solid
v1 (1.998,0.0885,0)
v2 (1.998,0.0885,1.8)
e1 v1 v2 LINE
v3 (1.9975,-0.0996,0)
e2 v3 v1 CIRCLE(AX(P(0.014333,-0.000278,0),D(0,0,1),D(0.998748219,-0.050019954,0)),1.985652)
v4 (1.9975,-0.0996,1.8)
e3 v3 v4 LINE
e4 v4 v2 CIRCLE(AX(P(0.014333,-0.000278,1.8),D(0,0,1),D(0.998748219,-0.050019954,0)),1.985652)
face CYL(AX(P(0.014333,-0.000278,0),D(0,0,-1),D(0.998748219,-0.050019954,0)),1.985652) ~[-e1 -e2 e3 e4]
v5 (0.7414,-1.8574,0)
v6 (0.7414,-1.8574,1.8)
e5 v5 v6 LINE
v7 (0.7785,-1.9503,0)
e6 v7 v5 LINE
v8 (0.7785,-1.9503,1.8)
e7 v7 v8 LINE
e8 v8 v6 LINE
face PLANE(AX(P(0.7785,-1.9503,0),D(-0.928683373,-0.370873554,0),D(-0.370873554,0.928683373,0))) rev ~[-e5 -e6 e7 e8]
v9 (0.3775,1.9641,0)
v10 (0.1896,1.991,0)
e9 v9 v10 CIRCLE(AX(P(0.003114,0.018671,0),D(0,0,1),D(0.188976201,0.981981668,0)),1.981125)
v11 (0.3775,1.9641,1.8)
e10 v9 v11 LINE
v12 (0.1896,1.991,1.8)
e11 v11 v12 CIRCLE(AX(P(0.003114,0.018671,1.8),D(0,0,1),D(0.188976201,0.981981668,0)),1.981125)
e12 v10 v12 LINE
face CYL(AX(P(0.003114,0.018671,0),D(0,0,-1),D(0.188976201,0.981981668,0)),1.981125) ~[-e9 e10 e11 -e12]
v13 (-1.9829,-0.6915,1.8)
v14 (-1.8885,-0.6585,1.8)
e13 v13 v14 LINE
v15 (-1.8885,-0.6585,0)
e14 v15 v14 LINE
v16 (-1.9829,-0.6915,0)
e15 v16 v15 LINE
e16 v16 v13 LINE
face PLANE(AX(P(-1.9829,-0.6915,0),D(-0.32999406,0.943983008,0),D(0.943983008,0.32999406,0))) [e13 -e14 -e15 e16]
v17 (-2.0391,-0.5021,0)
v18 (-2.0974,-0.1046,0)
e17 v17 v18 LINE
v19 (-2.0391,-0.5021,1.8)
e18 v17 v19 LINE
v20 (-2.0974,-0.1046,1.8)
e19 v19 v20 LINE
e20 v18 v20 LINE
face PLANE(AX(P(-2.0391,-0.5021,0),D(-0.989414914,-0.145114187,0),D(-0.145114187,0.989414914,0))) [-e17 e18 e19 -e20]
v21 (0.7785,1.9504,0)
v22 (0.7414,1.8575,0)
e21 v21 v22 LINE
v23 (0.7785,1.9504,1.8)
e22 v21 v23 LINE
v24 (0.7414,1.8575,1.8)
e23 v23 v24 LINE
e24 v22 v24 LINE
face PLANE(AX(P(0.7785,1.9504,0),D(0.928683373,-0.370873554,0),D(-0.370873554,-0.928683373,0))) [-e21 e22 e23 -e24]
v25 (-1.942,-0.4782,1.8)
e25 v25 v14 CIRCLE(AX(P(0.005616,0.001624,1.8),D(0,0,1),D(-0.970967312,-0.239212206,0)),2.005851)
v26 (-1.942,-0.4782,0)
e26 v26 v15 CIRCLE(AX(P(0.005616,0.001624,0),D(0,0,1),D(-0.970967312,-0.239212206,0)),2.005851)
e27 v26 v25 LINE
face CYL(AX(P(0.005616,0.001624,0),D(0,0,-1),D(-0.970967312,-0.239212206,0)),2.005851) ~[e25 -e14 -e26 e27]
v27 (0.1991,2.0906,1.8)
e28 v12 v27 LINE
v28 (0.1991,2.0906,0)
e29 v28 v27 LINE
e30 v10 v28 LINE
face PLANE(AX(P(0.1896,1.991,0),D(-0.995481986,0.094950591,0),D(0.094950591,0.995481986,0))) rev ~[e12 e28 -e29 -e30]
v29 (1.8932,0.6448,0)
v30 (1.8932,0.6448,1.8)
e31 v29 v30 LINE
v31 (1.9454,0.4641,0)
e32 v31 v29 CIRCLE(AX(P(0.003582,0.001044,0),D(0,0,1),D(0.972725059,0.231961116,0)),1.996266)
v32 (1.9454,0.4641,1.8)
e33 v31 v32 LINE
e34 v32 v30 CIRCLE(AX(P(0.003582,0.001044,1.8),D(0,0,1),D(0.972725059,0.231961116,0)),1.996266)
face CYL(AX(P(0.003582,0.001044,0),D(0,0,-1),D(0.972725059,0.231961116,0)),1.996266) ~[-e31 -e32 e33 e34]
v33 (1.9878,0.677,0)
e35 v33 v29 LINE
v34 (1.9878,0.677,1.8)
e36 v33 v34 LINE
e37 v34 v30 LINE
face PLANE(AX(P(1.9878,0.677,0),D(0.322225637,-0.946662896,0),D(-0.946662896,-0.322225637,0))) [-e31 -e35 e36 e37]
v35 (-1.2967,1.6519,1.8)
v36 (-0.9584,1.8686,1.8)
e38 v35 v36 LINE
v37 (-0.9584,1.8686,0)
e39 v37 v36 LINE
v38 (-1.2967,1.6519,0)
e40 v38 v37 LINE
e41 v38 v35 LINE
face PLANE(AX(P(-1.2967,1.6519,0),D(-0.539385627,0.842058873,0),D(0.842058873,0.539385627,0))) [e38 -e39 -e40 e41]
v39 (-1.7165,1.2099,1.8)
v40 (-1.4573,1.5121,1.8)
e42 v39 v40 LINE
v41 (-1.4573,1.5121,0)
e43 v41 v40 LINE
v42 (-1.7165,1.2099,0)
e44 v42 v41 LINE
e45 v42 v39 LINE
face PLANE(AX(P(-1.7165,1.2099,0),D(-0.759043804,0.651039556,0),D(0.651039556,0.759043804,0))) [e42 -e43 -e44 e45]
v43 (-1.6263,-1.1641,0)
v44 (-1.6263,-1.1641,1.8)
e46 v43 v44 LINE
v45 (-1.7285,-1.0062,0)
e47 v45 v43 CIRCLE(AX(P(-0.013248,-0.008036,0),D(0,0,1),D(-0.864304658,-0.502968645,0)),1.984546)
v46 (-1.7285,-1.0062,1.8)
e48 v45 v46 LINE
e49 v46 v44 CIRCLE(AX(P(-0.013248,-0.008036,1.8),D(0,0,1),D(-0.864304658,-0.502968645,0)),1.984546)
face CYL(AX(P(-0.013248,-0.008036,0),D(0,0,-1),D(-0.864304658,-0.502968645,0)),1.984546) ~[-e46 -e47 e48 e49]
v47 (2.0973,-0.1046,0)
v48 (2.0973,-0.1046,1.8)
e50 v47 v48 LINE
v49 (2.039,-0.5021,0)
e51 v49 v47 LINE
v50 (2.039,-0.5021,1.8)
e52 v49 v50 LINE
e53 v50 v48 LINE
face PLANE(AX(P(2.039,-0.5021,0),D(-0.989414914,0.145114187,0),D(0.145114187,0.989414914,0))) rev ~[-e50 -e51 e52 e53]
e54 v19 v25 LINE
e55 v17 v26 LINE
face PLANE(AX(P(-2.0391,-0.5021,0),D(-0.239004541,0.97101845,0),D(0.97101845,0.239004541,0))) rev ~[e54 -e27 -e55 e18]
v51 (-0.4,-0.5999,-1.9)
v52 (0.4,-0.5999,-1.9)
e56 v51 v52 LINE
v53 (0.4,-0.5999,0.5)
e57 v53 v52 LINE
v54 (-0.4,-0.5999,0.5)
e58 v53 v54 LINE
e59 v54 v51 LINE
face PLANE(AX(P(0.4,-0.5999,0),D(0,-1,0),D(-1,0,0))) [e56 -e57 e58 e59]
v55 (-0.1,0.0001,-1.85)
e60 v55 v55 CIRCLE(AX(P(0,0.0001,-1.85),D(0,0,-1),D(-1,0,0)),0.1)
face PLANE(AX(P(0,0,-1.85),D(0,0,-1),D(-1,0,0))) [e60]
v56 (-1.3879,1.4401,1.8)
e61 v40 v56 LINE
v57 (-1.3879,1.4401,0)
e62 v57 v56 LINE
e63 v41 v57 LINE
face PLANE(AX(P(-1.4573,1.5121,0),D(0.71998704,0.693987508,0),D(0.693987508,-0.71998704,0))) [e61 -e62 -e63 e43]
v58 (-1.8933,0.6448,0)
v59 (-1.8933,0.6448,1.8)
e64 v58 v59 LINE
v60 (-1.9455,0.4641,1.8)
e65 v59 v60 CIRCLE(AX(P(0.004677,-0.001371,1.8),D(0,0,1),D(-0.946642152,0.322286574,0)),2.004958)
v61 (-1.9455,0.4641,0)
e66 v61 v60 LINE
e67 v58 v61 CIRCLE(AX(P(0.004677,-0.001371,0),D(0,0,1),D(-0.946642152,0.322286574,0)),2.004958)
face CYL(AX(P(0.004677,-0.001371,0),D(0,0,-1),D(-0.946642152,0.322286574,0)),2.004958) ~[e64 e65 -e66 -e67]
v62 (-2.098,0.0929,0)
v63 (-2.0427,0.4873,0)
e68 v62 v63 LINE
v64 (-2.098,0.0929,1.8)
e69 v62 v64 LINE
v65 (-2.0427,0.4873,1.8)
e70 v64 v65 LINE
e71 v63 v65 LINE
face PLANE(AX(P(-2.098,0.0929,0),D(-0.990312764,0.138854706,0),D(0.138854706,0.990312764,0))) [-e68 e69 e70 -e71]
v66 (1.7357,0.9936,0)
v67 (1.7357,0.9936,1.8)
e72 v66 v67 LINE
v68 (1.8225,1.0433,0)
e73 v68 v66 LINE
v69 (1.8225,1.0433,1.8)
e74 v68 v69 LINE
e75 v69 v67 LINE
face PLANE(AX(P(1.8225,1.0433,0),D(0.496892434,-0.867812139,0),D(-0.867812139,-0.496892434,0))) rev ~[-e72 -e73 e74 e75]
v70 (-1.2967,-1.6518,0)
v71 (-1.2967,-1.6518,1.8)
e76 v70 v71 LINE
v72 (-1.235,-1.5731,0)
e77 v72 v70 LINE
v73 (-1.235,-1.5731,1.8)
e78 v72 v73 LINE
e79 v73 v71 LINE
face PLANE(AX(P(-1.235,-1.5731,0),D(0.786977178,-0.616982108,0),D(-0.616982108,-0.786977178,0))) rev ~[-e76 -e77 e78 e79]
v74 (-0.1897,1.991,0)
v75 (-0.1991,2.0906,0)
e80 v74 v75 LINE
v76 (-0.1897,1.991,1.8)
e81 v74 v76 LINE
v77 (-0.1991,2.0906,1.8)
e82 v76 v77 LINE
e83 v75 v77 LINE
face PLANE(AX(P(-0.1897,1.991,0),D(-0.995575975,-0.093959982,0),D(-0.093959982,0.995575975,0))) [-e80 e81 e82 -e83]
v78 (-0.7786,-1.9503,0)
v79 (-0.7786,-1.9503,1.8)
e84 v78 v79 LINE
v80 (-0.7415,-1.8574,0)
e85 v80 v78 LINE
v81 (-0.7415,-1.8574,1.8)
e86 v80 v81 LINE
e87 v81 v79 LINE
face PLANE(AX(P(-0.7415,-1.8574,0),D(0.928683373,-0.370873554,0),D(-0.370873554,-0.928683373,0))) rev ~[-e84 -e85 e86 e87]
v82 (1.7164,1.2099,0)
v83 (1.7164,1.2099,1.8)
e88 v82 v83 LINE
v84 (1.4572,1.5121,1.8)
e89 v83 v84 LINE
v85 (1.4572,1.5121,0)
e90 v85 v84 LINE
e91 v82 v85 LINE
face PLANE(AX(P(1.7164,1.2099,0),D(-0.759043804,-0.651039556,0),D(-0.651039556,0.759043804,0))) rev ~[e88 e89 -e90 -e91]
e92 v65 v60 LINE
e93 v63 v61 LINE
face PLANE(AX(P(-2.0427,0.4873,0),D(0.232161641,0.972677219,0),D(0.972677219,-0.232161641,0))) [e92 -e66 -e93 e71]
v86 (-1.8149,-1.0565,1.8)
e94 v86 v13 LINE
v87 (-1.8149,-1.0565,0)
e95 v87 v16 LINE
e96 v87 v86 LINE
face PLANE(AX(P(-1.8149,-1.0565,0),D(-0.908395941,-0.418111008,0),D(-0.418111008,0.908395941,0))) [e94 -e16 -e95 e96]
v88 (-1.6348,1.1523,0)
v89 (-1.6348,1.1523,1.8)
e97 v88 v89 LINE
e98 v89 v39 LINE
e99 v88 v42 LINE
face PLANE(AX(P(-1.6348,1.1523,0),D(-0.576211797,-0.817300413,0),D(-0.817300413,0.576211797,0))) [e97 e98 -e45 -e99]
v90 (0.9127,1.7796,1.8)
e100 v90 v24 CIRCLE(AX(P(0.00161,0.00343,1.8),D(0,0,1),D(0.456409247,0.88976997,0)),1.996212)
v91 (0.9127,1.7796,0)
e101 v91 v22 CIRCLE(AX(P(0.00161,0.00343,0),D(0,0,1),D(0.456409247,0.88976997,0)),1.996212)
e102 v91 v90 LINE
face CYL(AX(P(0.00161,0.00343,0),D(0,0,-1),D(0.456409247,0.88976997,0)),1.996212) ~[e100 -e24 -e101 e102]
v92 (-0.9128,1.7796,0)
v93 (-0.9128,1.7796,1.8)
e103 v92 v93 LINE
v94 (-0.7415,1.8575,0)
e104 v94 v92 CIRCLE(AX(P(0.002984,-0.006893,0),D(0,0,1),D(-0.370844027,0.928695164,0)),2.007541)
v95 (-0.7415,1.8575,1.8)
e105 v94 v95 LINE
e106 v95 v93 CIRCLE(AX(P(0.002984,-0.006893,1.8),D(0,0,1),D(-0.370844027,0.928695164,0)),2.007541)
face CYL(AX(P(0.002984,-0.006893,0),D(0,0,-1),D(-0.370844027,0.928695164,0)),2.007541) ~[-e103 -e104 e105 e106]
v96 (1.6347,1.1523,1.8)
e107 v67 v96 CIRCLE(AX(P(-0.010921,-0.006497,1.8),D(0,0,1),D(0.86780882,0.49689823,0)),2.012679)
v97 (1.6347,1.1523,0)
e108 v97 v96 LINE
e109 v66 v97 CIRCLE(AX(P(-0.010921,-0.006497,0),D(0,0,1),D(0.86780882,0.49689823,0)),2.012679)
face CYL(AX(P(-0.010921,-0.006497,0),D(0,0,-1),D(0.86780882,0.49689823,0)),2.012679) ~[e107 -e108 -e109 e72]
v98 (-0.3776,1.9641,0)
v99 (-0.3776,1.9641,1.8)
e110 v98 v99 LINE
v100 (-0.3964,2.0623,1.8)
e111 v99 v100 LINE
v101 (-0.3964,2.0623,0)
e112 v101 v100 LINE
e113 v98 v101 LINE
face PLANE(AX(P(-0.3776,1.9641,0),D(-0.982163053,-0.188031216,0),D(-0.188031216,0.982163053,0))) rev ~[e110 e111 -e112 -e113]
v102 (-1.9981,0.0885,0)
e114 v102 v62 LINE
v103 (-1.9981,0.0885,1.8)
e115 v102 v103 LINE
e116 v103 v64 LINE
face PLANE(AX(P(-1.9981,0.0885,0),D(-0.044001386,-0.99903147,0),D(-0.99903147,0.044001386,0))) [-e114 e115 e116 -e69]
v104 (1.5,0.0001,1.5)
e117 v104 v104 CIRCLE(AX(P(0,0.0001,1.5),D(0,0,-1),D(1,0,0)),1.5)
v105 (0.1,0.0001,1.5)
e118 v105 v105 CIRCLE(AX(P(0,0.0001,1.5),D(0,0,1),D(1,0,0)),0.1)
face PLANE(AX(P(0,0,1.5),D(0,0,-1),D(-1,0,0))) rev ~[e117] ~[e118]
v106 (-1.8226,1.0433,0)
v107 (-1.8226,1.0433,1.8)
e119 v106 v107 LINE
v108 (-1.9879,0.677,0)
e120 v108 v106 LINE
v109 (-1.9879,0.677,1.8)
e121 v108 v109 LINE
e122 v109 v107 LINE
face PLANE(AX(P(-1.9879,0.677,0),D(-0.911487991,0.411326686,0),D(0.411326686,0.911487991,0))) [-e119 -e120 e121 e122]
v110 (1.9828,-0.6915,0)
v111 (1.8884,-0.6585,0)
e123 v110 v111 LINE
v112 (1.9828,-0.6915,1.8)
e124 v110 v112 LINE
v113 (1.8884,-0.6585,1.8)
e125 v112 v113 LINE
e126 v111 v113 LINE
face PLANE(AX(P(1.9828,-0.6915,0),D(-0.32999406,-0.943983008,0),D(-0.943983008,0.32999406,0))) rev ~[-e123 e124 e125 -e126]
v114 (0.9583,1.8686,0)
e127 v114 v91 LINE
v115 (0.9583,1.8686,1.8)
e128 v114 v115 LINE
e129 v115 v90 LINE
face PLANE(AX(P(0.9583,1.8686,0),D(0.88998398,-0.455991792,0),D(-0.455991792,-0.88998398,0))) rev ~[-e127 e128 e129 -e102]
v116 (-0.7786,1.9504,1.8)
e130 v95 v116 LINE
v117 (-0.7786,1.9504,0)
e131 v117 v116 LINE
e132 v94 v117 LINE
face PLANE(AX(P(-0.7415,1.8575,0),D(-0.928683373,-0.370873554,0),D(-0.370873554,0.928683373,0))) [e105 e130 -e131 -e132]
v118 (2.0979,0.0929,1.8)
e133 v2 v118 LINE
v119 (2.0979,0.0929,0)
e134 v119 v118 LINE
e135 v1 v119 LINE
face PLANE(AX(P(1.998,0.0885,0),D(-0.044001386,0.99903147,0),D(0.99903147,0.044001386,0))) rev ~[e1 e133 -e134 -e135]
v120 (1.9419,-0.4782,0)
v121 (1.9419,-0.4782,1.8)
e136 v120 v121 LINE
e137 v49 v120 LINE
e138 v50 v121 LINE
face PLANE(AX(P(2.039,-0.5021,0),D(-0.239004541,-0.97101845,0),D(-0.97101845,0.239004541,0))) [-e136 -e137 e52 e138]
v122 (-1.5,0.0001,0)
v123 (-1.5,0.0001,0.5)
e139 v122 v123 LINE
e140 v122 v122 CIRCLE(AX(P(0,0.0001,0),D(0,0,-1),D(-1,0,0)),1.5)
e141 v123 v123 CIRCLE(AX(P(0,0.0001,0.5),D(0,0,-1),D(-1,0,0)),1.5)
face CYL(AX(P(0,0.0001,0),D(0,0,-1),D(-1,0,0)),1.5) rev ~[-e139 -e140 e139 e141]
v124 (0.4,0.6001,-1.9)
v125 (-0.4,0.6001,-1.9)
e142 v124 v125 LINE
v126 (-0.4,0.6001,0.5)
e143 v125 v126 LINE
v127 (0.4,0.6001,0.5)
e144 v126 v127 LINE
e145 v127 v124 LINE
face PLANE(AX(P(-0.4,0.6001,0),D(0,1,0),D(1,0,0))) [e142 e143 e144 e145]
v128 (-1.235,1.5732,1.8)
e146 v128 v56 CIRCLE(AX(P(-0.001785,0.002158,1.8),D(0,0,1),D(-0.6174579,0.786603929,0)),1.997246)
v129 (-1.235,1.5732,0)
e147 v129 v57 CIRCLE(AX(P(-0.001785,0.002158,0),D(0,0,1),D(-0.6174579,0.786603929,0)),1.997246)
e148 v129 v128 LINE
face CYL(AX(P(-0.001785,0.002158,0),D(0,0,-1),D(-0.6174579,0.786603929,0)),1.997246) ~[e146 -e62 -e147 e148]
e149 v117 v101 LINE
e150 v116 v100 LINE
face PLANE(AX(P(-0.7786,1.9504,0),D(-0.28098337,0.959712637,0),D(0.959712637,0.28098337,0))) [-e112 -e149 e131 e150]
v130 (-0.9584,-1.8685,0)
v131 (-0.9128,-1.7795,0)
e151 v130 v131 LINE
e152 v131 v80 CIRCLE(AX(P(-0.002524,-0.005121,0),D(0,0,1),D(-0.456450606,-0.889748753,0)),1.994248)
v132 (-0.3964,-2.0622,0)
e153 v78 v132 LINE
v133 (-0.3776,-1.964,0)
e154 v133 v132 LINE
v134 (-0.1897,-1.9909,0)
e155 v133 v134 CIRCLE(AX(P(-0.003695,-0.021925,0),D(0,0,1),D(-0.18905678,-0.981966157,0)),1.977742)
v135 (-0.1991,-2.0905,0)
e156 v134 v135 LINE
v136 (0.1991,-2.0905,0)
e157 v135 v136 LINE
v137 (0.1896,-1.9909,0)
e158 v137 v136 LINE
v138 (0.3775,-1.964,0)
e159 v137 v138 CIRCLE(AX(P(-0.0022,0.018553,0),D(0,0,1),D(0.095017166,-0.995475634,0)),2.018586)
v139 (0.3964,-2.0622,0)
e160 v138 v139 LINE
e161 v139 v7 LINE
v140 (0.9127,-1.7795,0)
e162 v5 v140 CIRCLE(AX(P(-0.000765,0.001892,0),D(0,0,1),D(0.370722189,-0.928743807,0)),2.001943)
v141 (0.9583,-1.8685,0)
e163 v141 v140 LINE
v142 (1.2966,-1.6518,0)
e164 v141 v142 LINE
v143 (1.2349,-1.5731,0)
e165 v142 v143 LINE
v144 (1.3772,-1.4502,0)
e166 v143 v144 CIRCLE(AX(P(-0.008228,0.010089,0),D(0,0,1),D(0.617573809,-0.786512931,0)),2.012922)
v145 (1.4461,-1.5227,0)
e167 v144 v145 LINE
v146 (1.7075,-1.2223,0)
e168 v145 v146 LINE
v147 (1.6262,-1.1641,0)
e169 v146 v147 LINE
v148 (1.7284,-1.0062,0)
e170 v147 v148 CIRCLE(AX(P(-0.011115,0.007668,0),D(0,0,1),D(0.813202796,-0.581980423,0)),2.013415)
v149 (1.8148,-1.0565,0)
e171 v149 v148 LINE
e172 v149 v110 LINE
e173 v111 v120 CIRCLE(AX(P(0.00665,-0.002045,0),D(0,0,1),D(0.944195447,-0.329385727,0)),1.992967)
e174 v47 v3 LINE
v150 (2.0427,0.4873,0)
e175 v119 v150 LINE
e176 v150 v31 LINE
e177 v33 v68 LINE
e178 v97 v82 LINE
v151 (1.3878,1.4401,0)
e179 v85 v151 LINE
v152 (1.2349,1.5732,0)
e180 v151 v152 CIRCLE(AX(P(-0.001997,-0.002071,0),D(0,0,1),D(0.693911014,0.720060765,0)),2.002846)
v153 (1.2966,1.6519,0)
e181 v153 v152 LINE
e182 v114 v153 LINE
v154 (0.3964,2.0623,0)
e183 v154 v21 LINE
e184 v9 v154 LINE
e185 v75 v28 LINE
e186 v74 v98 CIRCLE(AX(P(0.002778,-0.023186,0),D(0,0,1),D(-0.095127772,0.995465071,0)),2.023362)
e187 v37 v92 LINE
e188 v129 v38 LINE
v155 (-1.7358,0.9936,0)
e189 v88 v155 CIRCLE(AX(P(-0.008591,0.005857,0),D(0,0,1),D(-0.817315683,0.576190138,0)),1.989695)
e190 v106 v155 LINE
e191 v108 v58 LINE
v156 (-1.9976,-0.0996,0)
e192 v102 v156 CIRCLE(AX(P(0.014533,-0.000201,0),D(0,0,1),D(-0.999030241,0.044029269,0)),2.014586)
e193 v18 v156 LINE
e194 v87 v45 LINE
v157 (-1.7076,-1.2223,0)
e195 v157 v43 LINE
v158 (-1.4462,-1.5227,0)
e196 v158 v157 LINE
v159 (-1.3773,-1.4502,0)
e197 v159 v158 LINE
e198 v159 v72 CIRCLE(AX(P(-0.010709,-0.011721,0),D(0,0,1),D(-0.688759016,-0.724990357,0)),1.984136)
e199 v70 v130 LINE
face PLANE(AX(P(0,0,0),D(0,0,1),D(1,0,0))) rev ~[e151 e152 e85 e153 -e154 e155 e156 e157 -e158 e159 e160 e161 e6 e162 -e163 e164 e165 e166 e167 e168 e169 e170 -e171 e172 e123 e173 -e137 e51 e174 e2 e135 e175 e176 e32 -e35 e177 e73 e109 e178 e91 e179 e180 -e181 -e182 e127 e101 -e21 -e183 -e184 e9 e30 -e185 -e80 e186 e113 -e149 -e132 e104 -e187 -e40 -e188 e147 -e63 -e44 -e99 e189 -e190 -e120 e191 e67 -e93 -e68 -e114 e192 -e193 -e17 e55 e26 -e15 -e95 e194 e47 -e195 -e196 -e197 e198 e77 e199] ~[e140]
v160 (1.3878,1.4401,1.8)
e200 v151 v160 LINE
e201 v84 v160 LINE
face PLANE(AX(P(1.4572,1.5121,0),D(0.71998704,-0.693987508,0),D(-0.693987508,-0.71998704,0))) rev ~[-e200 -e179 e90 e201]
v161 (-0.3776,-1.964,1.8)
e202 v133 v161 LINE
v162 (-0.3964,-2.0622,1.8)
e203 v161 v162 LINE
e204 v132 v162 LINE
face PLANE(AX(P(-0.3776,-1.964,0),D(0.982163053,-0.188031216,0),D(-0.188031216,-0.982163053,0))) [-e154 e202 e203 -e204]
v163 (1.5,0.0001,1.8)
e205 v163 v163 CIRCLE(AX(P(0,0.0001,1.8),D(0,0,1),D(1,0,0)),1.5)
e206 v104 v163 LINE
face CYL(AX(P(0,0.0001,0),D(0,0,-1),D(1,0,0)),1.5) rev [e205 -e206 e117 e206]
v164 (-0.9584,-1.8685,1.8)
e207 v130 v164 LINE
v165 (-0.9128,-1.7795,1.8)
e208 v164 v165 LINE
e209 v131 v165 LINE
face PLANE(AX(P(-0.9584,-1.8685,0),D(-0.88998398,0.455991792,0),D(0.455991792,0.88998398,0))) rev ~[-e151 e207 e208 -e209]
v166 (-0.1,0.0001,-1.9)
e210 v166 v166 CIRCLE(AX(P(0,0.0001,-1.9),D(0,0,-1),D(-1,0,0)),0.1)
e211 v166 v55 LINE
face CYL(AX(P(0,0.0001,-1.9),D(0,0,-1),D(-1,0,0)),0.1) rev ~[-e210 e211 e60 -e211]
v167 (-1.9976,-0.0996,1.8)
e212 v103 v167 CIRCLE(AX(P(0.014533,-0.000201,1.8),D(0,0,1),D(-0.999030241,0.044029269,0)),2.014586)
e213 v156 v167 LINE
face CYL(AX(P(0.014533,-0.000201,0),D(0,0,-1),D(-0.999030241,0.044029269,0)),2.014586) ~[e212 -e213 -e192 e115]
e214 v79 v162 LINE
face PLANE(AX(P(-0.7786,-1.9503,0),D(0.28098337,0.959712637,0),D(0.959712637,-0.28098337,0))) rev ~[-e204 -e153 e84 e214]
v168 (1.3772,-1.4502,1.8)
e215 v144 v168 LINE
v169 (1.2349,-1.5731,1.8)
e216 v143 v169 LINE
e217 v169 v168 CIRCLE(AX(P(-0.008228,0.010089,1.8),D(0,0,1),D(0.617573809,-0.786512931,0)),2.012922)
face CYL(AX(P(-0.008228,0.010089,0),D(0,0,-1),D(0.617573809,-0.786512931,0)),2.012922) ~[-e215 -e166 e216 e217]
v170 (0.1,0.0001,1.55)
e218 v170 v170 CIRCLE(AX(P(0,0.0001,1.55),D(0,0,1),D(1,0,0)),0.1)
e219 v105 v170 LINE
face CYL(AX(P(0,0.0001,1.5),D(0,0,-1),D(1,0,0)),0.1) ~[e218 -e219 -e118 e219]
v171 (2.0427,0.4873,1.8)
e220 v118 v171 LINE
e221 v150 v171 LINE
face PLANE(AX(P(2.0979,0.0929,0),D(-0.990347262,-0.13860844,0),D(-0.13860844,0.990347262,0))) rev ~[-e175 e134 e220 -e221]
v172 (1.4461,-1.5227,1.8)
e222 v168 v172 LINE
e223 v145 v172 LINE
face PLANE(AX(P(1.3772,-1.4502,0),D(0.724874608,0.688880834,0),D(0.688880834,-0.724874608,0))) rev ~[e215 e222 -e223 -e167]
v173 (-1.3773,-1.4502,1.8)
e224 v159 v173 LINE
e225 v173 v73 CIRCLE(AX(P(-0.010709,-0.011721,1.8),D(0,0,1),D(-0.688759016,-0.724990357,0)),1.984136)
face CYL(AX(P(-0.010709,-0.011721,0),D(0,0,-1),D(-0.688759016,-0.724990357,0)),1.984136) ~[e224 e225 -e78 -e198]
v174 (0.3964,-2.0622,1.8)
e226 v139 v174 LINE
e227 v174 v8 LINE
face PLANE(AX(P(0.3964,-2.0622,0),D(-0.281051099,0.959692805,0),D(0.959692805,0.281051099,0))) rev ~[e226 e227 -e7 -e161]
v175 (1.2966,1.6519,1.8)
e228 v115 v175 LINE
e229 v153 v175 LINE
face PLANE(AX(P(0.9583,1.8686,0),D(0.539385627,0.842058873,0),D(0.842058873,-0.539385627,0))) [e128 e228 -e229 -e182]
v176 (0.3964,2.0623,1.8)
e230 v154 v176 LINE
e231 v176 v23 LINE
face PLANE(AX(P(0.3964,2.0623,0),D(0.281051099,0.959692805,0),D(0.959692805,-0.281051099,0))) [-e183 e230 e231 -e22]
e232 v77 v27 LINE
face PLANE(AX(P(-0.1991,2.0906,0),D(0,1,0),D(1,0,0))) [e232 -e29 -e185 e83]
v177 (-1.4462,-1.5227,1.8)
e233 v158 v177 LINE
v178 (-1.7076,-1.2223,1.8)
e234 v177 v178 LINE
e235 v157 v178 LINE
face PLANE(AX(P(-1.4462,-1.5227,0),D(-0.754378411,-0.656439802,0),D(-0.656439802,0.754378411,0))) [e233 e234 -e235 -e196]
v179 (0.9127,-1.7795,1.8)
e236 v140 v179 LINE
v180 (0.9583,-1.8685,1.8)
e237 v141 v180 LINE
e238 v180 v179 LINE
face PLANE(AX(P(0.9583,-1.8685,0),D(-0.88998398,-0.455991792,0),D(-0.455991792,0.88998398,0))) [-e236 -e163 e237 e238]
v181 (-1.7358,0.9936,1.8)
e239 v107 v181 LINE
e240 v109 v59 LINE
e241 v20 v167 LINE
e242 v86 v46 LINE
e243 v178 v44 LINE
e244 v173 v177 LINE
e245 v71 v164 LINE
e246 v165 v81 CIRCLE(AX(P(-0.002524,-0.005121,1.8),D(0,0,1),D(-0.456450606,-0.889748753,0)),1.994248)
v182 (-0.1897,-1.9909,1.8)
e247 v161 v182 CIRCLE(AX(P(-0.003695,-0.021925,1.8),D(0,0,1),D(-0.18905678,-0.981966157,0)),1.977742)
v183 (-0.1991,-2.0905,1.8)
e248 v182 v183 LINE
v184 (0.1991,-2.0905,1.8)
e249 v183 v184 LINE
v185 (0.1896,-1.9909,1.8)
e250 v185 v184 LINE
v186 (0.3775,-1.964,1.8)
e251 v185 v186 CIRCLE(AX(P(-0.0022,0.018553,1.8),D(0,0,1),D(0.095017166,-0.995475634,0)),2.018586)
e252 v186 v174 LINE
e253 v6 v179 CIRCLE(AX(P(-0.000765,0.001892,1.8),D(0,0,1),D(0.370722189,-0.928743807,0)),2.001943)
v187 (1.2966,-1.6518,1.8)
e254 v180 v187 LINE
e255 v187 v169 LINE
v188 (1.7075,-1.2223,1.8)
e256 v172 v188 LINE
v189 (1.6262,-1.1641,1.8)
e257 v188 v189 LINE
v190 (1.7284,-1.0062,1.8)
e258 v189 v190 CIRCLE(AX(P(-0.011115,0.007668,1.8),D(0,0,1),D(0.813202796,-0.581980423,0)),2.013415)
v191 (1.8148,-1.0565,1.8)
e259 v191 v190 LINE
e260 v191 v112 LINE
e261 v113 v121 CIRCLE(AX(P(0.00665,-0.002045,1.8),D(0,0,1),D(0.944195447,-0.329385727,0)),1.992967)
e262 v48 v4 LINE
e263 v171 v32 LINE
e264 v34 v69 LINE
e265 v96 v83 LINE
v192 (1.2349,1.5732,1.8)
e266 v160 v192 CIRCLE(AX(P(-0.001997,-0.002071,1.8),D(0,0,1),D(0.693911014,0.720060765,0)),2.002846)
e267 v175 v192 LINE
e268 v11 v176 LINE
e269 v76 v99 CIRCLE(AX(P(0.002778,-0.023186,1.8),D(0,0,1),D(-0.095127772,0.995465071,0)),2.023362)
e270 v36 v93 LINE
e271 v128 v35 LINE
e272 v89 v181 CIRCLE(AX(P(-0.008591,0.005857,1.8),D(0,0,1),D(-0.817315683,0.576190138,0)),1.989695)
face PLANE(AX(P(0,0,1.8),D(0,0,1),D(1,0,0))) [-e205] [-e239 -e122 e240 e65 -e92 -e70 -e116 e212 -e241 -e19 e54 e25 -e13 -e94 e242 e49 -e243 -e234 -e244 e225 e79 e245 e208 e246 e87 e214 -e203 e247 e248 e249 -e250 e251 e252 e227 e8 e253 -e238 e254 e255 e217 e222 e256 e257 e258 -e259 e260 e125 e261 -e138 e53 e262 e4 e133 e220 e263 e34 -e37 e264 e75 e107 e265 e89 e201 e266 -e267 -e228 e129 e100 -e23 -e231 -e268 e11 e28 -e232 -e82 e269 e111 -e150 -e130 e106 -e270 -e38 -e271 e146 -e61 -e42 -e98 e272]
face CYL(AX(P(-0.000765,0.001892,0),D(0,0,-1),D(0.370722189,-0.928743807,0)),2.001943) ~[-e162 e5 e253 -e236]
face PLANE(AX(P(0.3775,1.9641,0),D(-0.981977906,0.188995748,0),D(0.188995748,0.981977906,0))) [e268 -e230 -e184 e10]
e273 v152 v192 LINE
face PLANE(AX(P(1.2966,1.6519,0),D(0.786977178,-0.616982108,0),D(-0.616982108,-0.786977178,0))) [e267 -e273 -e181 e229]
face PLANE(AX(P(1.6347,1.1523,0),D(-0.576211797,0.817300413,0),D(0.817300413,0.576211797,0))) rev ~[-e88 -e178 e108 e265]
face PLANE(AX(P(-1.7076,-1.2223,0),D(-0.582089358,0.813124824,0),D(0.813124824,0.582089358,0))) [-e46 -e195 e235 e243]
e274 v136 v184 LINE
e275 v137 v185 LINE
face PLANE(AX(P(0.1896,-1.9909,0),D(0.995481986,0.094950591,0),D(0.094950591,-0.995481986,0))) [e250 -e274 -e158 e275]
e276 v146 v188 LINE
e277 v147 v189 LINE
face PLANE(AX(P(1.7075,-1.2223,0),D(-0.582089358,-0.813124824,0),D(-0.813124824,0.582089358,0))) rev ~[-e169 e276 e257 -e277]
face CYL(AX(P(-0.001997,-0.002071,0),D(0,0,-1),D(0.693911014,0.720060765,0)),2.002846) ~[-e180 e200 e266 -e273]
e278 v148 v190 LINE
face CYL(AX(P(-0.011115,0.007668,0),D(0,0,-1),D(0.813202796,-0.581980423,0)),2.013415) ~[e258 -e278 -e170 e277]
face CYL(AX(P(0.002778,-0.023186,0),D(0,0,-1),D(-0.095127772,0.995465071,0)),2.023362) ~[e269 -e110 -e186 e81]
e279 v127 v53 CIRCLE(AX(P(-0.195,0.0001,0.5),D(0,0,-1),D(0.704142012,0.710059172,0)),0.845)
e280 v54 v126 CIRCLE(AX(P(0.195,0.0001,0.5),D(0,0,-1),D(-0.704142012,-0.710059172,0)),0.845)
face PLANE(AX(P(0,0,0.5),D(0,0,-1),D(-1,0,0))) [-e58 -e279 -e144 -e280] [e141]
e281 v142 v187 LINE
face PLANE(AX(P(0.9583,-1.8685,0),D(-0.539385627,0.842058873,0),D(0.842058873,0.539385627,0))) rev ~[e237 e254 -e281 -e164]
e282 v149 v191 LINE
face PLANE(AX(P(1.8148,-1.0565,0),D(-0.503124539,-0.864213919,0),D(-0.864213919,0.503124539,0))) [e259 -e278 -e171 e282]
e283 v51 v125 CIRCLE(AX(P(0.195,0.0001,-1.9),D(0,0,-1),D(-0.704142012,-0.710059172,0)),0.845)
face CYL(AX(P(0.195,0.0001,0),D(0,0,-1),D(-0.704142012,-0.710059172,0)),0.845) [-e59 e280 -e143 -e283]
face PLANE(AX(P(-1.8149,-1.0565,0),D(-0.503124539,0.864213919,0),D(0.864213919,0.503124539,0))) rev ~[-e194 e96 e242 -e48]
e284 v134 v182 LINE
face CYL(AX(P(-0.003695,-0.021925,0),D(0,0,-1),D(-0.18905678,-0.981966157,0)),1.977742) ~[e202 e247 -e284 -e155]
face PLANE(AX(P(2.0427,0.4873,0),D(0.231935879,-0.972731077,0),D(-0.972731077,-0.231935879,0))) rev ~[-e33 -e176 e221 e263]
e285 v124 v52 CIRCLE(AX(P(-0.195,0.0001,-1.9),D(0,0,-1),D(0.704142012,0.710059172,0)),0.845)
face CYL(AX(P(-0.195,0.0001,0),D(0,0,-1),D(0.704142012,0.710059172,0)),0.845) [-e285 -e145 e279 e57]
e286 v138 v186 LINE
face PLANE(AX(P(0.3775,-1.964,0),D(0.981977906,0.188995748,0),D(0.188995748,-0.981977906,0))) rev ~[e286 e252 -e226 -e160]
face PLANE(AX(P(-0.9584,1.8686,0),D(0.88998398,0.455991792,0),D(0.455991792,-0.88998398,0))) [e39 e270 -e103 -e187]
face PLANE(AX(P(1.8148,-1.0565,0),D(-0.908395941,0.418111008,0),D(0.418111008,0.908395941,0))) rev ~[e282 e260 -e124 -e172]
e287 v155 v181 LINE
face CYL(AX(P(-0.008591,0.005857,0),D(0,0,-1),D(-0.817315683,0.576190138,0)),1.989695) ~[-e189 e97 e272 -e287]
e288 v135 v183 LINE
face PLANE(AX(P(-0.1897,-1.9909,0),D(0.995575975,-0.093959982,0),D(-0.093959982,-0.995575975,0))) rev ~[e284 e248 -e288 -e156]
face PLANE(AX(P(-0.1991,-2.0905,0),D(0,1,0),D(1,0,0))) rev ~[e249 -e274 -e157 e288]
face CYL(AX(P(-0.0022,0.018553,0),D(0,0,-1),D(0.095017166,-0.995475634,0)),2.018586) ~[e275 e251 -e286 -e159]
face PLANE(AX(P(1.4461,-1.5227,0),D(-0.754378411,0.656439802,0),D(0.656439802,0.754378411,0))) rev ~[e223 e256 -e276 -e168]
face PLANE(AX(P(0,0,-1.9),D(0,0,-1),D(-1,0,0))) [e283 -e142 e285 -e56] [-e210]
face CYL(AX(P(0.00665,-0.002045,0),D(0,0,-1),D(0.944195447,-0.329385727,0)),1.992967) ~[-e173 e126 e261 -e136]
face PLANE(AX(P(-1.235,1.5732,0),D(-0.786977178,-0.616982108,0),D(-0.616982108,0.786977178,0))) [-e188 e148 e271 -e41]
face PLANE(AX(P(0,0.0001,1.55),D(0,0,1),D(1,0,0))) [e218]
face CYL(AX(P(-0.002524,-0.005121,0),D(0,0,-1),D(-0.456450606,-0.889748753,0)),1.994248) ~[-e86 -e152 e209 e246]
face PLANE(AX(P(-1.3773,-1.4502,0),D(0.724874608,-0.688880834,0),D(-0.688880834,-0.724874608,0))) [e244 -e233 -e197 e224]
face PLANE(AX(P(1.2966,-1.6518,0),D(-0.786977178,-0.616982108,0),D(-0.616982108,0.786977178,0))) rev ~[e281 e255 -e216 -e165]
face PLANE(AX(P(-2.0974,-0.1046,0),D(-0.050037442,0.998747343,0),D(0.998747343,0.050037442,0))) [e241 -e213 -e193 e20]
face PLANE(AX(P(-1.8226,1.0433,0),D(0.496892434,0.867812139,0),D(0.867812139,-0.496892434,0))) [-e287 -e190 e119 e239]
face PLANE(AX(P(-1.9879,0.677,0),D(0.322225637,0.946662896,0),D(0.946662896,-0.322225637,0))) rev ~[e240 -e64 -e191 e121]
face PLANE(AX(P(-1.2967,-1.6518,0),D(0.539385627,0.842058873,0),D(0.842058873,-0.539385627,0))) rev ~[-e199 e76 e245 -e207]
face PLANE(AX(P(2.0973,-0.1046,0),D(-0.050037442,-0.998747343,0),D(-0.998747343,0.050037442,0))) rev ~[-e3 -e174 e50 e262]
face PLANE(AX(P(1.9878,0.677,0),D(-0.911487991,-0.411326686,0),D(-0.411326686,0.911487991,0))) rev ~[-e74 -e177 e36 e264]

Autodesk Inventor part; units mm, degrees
ref_plane "YZ Plane" through (0, 0, 0) normal (1, 0, 0) x (0, 1, 0)
ref_plane "XZ Plane" through (0, 0, 0) normal (0, 1, 0) x (-1, 0, 0)
ref_plane "XY Plane" through (0, 0, 0) normal (0, 0, 1) x (1, 0, 0)
sketch "Boceto1" plane through (0, 0, 0) normal (0, 0, 1) x (1, 0, 0)
  circle A0 centre (0, 0.0001) radius 1.5
  line L0 (-0.1991, -2.0905) -> (0.1991, -2.0905)
  line L1 (0.3964, -2.0622) -> (0.7785, -1.9503)
  line L2 (0.9583, -1.8685) -> (1.2966, -1.6518)
  line L3 (0.7785, -1.9503) -> (0.7414, -1.8574)
  line L4 (0.9583, -1.8685) -> (0.9127, -1.7795)
  arc A1 (1.2349, -1.5731) -> (1.3772, -1.4502) centre (0, 0.0001) ccw
  arc A2 (-1.3773, -1.4502) -> (-1.235, -1.5731) centre (0, 0.0001) ccw
  arc A3 (-0.9128, -1.7795) -> (-0.7415, -1.8574) centre (0, 0.0001) ccw
  arc A4 (-0.3776, -1.964) -> (-0.1897, -1.9909) centre (0, 0.0001) ccw
  arc A5 (0.1896, -1.9909) -> (0.3775, -1.964) centre (0, 0.0001) ccw
  arc A6 (0.7414, -1.8574) -> (0.9127, -1.7795) centre (0, 0.0001) ccw
  line L5 (-1.2967, -1.6518) -> (-0.9584, -1.8685)
  line L6 (-0.7786, -1.9503) -> (-0.3964, -2.0622)
  line L7 (0.3775, -1.964) -> (0.3964, -2.0622)
  line L8 (0.1896, -1.9909) -> (0.1991, -2.0905)
  line L9 (-0.1897, -1.9909) -> (-0.1991, -2.0905)
  line L10 (-0.3776, -1.964) -> (-0.3964, -2.0622)
  line L11 (-1.235, -1.5731) -> (-1.2967, -1.6518)
  line L12 (-0.9584, -1.8685) -> (-0.9128, -1.7795)
  line L13 (-0.7415, -1.8574) -> (-0.7786, -1.9503)
  line L14 (1.2966, -1.6518) -> (1.2349, -1.5731)
  line L15 (-0.1991, 2.0906) -> (0.1991, 2.0906)
  line L16 (0.3964, 2.0623) -> (0.7785, 1.9504)
  line L17 (0.9583, 1.8686) -> (1.2966, 1.6519)
  line L18 (0.7785, 1.9504) -> (0.7414, 1.8575)
  line L19 (0.9583, 1.8686) -> (0.9127, 1.7796)
  arc A7 (1.3878, 1.4401) -> (1.2349, 1.5732) centre (-0.0001, 0) ccw
  arc A8 (-1.235, 1.5732) -> (-1.3879, 1.4401) centre (0, 0) ccw
  arc A9 (-0.7415, 1.8575) -> (-0.9128, 1.7796) centre (0, 0.0001) ccw
  arc A10 (-0.1897, 1.991) -> (-0.3776, 1.9641) centre (0, 0.0001) ccw
  arc A11 (0.3775, 1.9641) -> (0.1896, 1.991) centre (0, 0.0001) ccw
  arc A12 (0.9127, 1.7796) -> (0.7414, 1.8575) centre (0, 0.0001) ccw
  line L20 (-1.2967, 1.6519) -> (-0.9584, 1.8686)
  line L21 (-0.7786, 1.9504) -> (-0.3964, 2.0623)
  line L22 (0.3775, 1.9641) -> (0.3964, 2.0623)
  line L23 (0.1896, 1.991) -> (0.1991, 2.0906)
  line L24 (-0.1897, 1.991) -> (-0.1991, 2.0906)
  line L25 (-0.3776, 1.9641) -> (-0.3964, 2.0623)
  line L26 (-1.235, 1.5732) -> (-1.2967, 1.6519)
  line L27 (-0.9584, 1.8686) -> (-0.9128, 1.7796)
  line L28 (-0.7415, 1.8575) -> (-0.7786, 1.9504)
  line L29 (1.2966, 1.6519) -> (1.2349, 1.5732)
  line L30 (1.4461, -1.5227) -> (1.7075, -1.2223)
  line L31 (1.8148, -1.0565) -> (1.9828, -0.6915)
  line L32 (1.7075, -1.2223) -> (1.6262, -1.1641)
  line L33 (1.8148, -1.0565) -> (1.7284, -1.0062)
  arc A13 (1.6262, -1.1641) -> (1.7284, -1.0062) centre (0, 0.0001) ccw
  line L34 (1.3772, -1.4502) -> (1.4461, -1.5227)
  line L35 (2.039, -0.5021) -> (2.0973, -0.1046)
  line L36 (1.9828, -0.6915) -> (1.8884, -0.6585)
  line L37 (2.039, -0.5021) -> (1.9419, -0.4782)
  arc A14 (1.9975, -0.0996) -> (1.998, 0.0885) centre (0, 0.0001) ccw
  arc A15 (1.8884, -0.6585) -> (1.9419, -0.4782) centre (0, 0.0001) ccw
  line L38 (2.0973, -0.1046) -> (1.9975, -0.0996)
  line L39 (2.0979, 0.0929) -> (2.0427, 0.4873)
  line L40 (1.9878, 0.677) -> (1.8225, 1.0433)
  line L41 (2.0427, 0.4873) -> (1.9454, 0.4641)
  line L42 (1.9878, 0.677) -> (1.8932, 0.6448)
  arc A16 (1.9454, 0.4641) -> (1.8932, 0.6448) centre (0, 0.0001) ccw
  line L43 (1.998, 0.0885) -> (2.0979, 0.0929)
  arc A17 (1.7357, 0.9936) -> (1.6347, 1.1523) centre (0, 0.0001) ccw
  line L44 (1.8225, 1.0433) -> (1.7357, 0.9936)
  line L45 (1.7164, 1.2099) -> (1.4572, 1.5121)
  line L46 (1.4572, 1.5121) -> (1.3878, 1.4401)
  line L47 (1.6347, 1.1523) -> (1.7164, 1.2099)
  arc A18 (-1.3773, -1.4502) -> (-1.235, -1.5731) centre (0, 0.0001) ccw
  line L48 (-1.4462, -1.5227) -> (-1.7076, -1.2223)
  line L49 (-1.8149, -1.0565) -> (-1.9829, -0.6915)
  line L50 (-1.7076, -1.2223) -> (-1.6263, -1.1641)
  line L51 (-1.8149, -1.0565) -> (-1.7285, -1.0062)
  arc A19 (-1.7285, -1.0062) -> (-1.6263, -1.1641) centre (0, 0.0001) ccw
  line L52 (-1.3773, -1.4502) -> (-1.4462, -1.5227)
  line L53 (-2.0391, -0.5021) -> (-2.0974, -0.1046)
  line L54 (-1.9829, -0.6915) -> (-1.8885, -0.6585)
  line L55 (-2.0391, -0.5021) -> (-1.942, -0.4782)
  arc A20 (-1.9981, 0.0885) -> (-1.9976, -0.0996) centre (0, 0.0001) ccw
  arc A21 (-1.942, -0.4782) -> (-1.8885, -0.6585) centre (0, 0.0001) ccw
  line L56 (-2.0974, -0.1046) -> (-1.9976, -0.0996)
  line L57 (-2.098, 0.0929) -> (-2.0427, 0.4873)
  line L58 (-1.9879, 0.677) -> (-1.8226, 1.0433)
  line L59 (-2.0427, 0.4873) -> (-1.9455, 0.4641)
  line L60 (-1.9879, 0.677) -> (-1.8933, 0.6448)
  arc A22 (-1.8933, 0.6448) -> (-1.9455, 0.4641) centre (0, 0.0001) ccw
  line L61 (-1.9981, 0.0885) -> (-2.098, 0.0929)
  arc A23 (-1.6348, 1.1523) -> (-1.7358, 0.9936) centre (0, 0.0001) ccw
  line L62 (-1.8226, 1.0433) -> (-1.7358, 0.9936)
  line L63 (-1.7165, 1.2099) -> (-1.4573, 1.5121)
  line L64 (-1.4573, 1.5121) -> (-1.3879, 1.4401)
  line L65 (-1.6348, 1.1523) -> (-1.7165, 1.2099)
  circle A24 centre (0, 0.0001) radius 0.1
  point P0 (0, 0)
extrude "Extrusión1" add sketch "Boceto1" along normal blind 1.8 contours L9 A4 L10 L6 L13 A3 L12 L5 L11 A2 L52 L48 L50 A19 L51 L49 L54 A21 L55 L53 L56 A20 L61 L57 L59 A22 L60 L58 L62 A23 L65 L63 L64 A8 L26 L20 L27 A9 L28 L21 L25 A10 L24 L15 L23 A11 L22 L16 L18 A12 L19 L17 L29 A7 L46 L45 L47 A17 L44 L40 L42 A16 L41 L39 L43 A14 L38 L35 L37 A15 L36 L31 L33 A13 L32 L30 L34 A1 L14 L2 L4 A6 L3 L1 L7 A5 L8 L0
sketch "Boceto2" plane through (0, 0, 0) normal (0, 0, -1) x (-1, 0, 0)
  circle A0 centre (0, 0.0001) radius 1.5 projected
  point P0 (0, 0)
extrude "Extrusión2" add sketch "Boceto2" against normal blind 1.5
sketch "Boceto3" plane through (0, 0.0001, 1.5) normal (0, 0, 1) x (1, 0, 0)
  circle A0 centre (0, 0) radius 0.1
  point P0 (0, -0.0001)
extrude "Extrusión3" add sketch "Boceto3" along normal blind 0.05
sketch "Boceto4" plane through (0, 0, 0) normal (0, 0, -1) x (-1, 0, 0)
  line L0 (-0.4, 0.6001) -> (0.4, 0.6001)
  line L1 (0.4, -0.5999) -> (-0.4, -0.5999)
  arc A0 (-0.4, 0.6001) -> (-0.4, -0.5999) centre (0.195, 0.0001) ccw
  arc A1 (0.4, -0.5999) -> (0.4, 0.6001) centre (-0.195, 0.0001) ccw
  circle A2 centre (0, 0.0001) radius 0.1
  point P0 (0, 0)
  point P1 (-0.0001, 0)
  point P2 (0, 0)
extrude "Extrusión4" add sketch "Boceto4" along normal blind 1.9 contours L0 A1 L1 A0 | A2
sketch "Boceto5" plane through (0, 0, -1.9) normal (0, 0, -1) x (-1, 0, 0)
  line L0 (-0.4, 0.6001) -> (0.4, 0.6001)
  line L1 (0.4, -0.5999) -> (-0.4, -0.5999)
  arc A0 (-0.4, 0.6001) -> (-0.4, -0.5999) centre (0.195, 0.0001) ccw
  arc A1 (0.4, -0.5999) -> (0.4, 0.6001) centre (-0.195, 0.0001) ccw
  circle A2 centre (0, 0.0001) radius 0.1
  point P0 (0, 0)
  point P1 (-0.0001, 0)
  point P2 (0, 0)
extrude "Extrusión5" cut sketch "Boceto5" against normal blind 0.05 contours A2
sketch "Boceto6" plane through (0, 0, 0) normal (0, 0, -1) x (-1, 0, 0)
  circle A0 centre (0, 0.0001) radius 1.5 projected
  circle A1 centre (0, 0.0001) radius 0.1 projected
  line L0 (0.4, 0.6001) -> (-0.4, 0.6001) projected
  arc A2 (-0.4, 0.6001) -> (-0.4, -0.5999) centre (0.195, 0.0001) ccw projected
  line L1 (-0.4, -0.5999) -> (0.4, -0.5999) projected
  arc A3 (0.4, -0.5999) -> (0.4, 0.6001) centre (-0.195, 0.0001) ccw projected
  point P0 (0, 0)
extrude "Extrusión6" cut sketch "Boceto6" against normal blind 0.5 contours A0
properties part number "learnbotRueda"
